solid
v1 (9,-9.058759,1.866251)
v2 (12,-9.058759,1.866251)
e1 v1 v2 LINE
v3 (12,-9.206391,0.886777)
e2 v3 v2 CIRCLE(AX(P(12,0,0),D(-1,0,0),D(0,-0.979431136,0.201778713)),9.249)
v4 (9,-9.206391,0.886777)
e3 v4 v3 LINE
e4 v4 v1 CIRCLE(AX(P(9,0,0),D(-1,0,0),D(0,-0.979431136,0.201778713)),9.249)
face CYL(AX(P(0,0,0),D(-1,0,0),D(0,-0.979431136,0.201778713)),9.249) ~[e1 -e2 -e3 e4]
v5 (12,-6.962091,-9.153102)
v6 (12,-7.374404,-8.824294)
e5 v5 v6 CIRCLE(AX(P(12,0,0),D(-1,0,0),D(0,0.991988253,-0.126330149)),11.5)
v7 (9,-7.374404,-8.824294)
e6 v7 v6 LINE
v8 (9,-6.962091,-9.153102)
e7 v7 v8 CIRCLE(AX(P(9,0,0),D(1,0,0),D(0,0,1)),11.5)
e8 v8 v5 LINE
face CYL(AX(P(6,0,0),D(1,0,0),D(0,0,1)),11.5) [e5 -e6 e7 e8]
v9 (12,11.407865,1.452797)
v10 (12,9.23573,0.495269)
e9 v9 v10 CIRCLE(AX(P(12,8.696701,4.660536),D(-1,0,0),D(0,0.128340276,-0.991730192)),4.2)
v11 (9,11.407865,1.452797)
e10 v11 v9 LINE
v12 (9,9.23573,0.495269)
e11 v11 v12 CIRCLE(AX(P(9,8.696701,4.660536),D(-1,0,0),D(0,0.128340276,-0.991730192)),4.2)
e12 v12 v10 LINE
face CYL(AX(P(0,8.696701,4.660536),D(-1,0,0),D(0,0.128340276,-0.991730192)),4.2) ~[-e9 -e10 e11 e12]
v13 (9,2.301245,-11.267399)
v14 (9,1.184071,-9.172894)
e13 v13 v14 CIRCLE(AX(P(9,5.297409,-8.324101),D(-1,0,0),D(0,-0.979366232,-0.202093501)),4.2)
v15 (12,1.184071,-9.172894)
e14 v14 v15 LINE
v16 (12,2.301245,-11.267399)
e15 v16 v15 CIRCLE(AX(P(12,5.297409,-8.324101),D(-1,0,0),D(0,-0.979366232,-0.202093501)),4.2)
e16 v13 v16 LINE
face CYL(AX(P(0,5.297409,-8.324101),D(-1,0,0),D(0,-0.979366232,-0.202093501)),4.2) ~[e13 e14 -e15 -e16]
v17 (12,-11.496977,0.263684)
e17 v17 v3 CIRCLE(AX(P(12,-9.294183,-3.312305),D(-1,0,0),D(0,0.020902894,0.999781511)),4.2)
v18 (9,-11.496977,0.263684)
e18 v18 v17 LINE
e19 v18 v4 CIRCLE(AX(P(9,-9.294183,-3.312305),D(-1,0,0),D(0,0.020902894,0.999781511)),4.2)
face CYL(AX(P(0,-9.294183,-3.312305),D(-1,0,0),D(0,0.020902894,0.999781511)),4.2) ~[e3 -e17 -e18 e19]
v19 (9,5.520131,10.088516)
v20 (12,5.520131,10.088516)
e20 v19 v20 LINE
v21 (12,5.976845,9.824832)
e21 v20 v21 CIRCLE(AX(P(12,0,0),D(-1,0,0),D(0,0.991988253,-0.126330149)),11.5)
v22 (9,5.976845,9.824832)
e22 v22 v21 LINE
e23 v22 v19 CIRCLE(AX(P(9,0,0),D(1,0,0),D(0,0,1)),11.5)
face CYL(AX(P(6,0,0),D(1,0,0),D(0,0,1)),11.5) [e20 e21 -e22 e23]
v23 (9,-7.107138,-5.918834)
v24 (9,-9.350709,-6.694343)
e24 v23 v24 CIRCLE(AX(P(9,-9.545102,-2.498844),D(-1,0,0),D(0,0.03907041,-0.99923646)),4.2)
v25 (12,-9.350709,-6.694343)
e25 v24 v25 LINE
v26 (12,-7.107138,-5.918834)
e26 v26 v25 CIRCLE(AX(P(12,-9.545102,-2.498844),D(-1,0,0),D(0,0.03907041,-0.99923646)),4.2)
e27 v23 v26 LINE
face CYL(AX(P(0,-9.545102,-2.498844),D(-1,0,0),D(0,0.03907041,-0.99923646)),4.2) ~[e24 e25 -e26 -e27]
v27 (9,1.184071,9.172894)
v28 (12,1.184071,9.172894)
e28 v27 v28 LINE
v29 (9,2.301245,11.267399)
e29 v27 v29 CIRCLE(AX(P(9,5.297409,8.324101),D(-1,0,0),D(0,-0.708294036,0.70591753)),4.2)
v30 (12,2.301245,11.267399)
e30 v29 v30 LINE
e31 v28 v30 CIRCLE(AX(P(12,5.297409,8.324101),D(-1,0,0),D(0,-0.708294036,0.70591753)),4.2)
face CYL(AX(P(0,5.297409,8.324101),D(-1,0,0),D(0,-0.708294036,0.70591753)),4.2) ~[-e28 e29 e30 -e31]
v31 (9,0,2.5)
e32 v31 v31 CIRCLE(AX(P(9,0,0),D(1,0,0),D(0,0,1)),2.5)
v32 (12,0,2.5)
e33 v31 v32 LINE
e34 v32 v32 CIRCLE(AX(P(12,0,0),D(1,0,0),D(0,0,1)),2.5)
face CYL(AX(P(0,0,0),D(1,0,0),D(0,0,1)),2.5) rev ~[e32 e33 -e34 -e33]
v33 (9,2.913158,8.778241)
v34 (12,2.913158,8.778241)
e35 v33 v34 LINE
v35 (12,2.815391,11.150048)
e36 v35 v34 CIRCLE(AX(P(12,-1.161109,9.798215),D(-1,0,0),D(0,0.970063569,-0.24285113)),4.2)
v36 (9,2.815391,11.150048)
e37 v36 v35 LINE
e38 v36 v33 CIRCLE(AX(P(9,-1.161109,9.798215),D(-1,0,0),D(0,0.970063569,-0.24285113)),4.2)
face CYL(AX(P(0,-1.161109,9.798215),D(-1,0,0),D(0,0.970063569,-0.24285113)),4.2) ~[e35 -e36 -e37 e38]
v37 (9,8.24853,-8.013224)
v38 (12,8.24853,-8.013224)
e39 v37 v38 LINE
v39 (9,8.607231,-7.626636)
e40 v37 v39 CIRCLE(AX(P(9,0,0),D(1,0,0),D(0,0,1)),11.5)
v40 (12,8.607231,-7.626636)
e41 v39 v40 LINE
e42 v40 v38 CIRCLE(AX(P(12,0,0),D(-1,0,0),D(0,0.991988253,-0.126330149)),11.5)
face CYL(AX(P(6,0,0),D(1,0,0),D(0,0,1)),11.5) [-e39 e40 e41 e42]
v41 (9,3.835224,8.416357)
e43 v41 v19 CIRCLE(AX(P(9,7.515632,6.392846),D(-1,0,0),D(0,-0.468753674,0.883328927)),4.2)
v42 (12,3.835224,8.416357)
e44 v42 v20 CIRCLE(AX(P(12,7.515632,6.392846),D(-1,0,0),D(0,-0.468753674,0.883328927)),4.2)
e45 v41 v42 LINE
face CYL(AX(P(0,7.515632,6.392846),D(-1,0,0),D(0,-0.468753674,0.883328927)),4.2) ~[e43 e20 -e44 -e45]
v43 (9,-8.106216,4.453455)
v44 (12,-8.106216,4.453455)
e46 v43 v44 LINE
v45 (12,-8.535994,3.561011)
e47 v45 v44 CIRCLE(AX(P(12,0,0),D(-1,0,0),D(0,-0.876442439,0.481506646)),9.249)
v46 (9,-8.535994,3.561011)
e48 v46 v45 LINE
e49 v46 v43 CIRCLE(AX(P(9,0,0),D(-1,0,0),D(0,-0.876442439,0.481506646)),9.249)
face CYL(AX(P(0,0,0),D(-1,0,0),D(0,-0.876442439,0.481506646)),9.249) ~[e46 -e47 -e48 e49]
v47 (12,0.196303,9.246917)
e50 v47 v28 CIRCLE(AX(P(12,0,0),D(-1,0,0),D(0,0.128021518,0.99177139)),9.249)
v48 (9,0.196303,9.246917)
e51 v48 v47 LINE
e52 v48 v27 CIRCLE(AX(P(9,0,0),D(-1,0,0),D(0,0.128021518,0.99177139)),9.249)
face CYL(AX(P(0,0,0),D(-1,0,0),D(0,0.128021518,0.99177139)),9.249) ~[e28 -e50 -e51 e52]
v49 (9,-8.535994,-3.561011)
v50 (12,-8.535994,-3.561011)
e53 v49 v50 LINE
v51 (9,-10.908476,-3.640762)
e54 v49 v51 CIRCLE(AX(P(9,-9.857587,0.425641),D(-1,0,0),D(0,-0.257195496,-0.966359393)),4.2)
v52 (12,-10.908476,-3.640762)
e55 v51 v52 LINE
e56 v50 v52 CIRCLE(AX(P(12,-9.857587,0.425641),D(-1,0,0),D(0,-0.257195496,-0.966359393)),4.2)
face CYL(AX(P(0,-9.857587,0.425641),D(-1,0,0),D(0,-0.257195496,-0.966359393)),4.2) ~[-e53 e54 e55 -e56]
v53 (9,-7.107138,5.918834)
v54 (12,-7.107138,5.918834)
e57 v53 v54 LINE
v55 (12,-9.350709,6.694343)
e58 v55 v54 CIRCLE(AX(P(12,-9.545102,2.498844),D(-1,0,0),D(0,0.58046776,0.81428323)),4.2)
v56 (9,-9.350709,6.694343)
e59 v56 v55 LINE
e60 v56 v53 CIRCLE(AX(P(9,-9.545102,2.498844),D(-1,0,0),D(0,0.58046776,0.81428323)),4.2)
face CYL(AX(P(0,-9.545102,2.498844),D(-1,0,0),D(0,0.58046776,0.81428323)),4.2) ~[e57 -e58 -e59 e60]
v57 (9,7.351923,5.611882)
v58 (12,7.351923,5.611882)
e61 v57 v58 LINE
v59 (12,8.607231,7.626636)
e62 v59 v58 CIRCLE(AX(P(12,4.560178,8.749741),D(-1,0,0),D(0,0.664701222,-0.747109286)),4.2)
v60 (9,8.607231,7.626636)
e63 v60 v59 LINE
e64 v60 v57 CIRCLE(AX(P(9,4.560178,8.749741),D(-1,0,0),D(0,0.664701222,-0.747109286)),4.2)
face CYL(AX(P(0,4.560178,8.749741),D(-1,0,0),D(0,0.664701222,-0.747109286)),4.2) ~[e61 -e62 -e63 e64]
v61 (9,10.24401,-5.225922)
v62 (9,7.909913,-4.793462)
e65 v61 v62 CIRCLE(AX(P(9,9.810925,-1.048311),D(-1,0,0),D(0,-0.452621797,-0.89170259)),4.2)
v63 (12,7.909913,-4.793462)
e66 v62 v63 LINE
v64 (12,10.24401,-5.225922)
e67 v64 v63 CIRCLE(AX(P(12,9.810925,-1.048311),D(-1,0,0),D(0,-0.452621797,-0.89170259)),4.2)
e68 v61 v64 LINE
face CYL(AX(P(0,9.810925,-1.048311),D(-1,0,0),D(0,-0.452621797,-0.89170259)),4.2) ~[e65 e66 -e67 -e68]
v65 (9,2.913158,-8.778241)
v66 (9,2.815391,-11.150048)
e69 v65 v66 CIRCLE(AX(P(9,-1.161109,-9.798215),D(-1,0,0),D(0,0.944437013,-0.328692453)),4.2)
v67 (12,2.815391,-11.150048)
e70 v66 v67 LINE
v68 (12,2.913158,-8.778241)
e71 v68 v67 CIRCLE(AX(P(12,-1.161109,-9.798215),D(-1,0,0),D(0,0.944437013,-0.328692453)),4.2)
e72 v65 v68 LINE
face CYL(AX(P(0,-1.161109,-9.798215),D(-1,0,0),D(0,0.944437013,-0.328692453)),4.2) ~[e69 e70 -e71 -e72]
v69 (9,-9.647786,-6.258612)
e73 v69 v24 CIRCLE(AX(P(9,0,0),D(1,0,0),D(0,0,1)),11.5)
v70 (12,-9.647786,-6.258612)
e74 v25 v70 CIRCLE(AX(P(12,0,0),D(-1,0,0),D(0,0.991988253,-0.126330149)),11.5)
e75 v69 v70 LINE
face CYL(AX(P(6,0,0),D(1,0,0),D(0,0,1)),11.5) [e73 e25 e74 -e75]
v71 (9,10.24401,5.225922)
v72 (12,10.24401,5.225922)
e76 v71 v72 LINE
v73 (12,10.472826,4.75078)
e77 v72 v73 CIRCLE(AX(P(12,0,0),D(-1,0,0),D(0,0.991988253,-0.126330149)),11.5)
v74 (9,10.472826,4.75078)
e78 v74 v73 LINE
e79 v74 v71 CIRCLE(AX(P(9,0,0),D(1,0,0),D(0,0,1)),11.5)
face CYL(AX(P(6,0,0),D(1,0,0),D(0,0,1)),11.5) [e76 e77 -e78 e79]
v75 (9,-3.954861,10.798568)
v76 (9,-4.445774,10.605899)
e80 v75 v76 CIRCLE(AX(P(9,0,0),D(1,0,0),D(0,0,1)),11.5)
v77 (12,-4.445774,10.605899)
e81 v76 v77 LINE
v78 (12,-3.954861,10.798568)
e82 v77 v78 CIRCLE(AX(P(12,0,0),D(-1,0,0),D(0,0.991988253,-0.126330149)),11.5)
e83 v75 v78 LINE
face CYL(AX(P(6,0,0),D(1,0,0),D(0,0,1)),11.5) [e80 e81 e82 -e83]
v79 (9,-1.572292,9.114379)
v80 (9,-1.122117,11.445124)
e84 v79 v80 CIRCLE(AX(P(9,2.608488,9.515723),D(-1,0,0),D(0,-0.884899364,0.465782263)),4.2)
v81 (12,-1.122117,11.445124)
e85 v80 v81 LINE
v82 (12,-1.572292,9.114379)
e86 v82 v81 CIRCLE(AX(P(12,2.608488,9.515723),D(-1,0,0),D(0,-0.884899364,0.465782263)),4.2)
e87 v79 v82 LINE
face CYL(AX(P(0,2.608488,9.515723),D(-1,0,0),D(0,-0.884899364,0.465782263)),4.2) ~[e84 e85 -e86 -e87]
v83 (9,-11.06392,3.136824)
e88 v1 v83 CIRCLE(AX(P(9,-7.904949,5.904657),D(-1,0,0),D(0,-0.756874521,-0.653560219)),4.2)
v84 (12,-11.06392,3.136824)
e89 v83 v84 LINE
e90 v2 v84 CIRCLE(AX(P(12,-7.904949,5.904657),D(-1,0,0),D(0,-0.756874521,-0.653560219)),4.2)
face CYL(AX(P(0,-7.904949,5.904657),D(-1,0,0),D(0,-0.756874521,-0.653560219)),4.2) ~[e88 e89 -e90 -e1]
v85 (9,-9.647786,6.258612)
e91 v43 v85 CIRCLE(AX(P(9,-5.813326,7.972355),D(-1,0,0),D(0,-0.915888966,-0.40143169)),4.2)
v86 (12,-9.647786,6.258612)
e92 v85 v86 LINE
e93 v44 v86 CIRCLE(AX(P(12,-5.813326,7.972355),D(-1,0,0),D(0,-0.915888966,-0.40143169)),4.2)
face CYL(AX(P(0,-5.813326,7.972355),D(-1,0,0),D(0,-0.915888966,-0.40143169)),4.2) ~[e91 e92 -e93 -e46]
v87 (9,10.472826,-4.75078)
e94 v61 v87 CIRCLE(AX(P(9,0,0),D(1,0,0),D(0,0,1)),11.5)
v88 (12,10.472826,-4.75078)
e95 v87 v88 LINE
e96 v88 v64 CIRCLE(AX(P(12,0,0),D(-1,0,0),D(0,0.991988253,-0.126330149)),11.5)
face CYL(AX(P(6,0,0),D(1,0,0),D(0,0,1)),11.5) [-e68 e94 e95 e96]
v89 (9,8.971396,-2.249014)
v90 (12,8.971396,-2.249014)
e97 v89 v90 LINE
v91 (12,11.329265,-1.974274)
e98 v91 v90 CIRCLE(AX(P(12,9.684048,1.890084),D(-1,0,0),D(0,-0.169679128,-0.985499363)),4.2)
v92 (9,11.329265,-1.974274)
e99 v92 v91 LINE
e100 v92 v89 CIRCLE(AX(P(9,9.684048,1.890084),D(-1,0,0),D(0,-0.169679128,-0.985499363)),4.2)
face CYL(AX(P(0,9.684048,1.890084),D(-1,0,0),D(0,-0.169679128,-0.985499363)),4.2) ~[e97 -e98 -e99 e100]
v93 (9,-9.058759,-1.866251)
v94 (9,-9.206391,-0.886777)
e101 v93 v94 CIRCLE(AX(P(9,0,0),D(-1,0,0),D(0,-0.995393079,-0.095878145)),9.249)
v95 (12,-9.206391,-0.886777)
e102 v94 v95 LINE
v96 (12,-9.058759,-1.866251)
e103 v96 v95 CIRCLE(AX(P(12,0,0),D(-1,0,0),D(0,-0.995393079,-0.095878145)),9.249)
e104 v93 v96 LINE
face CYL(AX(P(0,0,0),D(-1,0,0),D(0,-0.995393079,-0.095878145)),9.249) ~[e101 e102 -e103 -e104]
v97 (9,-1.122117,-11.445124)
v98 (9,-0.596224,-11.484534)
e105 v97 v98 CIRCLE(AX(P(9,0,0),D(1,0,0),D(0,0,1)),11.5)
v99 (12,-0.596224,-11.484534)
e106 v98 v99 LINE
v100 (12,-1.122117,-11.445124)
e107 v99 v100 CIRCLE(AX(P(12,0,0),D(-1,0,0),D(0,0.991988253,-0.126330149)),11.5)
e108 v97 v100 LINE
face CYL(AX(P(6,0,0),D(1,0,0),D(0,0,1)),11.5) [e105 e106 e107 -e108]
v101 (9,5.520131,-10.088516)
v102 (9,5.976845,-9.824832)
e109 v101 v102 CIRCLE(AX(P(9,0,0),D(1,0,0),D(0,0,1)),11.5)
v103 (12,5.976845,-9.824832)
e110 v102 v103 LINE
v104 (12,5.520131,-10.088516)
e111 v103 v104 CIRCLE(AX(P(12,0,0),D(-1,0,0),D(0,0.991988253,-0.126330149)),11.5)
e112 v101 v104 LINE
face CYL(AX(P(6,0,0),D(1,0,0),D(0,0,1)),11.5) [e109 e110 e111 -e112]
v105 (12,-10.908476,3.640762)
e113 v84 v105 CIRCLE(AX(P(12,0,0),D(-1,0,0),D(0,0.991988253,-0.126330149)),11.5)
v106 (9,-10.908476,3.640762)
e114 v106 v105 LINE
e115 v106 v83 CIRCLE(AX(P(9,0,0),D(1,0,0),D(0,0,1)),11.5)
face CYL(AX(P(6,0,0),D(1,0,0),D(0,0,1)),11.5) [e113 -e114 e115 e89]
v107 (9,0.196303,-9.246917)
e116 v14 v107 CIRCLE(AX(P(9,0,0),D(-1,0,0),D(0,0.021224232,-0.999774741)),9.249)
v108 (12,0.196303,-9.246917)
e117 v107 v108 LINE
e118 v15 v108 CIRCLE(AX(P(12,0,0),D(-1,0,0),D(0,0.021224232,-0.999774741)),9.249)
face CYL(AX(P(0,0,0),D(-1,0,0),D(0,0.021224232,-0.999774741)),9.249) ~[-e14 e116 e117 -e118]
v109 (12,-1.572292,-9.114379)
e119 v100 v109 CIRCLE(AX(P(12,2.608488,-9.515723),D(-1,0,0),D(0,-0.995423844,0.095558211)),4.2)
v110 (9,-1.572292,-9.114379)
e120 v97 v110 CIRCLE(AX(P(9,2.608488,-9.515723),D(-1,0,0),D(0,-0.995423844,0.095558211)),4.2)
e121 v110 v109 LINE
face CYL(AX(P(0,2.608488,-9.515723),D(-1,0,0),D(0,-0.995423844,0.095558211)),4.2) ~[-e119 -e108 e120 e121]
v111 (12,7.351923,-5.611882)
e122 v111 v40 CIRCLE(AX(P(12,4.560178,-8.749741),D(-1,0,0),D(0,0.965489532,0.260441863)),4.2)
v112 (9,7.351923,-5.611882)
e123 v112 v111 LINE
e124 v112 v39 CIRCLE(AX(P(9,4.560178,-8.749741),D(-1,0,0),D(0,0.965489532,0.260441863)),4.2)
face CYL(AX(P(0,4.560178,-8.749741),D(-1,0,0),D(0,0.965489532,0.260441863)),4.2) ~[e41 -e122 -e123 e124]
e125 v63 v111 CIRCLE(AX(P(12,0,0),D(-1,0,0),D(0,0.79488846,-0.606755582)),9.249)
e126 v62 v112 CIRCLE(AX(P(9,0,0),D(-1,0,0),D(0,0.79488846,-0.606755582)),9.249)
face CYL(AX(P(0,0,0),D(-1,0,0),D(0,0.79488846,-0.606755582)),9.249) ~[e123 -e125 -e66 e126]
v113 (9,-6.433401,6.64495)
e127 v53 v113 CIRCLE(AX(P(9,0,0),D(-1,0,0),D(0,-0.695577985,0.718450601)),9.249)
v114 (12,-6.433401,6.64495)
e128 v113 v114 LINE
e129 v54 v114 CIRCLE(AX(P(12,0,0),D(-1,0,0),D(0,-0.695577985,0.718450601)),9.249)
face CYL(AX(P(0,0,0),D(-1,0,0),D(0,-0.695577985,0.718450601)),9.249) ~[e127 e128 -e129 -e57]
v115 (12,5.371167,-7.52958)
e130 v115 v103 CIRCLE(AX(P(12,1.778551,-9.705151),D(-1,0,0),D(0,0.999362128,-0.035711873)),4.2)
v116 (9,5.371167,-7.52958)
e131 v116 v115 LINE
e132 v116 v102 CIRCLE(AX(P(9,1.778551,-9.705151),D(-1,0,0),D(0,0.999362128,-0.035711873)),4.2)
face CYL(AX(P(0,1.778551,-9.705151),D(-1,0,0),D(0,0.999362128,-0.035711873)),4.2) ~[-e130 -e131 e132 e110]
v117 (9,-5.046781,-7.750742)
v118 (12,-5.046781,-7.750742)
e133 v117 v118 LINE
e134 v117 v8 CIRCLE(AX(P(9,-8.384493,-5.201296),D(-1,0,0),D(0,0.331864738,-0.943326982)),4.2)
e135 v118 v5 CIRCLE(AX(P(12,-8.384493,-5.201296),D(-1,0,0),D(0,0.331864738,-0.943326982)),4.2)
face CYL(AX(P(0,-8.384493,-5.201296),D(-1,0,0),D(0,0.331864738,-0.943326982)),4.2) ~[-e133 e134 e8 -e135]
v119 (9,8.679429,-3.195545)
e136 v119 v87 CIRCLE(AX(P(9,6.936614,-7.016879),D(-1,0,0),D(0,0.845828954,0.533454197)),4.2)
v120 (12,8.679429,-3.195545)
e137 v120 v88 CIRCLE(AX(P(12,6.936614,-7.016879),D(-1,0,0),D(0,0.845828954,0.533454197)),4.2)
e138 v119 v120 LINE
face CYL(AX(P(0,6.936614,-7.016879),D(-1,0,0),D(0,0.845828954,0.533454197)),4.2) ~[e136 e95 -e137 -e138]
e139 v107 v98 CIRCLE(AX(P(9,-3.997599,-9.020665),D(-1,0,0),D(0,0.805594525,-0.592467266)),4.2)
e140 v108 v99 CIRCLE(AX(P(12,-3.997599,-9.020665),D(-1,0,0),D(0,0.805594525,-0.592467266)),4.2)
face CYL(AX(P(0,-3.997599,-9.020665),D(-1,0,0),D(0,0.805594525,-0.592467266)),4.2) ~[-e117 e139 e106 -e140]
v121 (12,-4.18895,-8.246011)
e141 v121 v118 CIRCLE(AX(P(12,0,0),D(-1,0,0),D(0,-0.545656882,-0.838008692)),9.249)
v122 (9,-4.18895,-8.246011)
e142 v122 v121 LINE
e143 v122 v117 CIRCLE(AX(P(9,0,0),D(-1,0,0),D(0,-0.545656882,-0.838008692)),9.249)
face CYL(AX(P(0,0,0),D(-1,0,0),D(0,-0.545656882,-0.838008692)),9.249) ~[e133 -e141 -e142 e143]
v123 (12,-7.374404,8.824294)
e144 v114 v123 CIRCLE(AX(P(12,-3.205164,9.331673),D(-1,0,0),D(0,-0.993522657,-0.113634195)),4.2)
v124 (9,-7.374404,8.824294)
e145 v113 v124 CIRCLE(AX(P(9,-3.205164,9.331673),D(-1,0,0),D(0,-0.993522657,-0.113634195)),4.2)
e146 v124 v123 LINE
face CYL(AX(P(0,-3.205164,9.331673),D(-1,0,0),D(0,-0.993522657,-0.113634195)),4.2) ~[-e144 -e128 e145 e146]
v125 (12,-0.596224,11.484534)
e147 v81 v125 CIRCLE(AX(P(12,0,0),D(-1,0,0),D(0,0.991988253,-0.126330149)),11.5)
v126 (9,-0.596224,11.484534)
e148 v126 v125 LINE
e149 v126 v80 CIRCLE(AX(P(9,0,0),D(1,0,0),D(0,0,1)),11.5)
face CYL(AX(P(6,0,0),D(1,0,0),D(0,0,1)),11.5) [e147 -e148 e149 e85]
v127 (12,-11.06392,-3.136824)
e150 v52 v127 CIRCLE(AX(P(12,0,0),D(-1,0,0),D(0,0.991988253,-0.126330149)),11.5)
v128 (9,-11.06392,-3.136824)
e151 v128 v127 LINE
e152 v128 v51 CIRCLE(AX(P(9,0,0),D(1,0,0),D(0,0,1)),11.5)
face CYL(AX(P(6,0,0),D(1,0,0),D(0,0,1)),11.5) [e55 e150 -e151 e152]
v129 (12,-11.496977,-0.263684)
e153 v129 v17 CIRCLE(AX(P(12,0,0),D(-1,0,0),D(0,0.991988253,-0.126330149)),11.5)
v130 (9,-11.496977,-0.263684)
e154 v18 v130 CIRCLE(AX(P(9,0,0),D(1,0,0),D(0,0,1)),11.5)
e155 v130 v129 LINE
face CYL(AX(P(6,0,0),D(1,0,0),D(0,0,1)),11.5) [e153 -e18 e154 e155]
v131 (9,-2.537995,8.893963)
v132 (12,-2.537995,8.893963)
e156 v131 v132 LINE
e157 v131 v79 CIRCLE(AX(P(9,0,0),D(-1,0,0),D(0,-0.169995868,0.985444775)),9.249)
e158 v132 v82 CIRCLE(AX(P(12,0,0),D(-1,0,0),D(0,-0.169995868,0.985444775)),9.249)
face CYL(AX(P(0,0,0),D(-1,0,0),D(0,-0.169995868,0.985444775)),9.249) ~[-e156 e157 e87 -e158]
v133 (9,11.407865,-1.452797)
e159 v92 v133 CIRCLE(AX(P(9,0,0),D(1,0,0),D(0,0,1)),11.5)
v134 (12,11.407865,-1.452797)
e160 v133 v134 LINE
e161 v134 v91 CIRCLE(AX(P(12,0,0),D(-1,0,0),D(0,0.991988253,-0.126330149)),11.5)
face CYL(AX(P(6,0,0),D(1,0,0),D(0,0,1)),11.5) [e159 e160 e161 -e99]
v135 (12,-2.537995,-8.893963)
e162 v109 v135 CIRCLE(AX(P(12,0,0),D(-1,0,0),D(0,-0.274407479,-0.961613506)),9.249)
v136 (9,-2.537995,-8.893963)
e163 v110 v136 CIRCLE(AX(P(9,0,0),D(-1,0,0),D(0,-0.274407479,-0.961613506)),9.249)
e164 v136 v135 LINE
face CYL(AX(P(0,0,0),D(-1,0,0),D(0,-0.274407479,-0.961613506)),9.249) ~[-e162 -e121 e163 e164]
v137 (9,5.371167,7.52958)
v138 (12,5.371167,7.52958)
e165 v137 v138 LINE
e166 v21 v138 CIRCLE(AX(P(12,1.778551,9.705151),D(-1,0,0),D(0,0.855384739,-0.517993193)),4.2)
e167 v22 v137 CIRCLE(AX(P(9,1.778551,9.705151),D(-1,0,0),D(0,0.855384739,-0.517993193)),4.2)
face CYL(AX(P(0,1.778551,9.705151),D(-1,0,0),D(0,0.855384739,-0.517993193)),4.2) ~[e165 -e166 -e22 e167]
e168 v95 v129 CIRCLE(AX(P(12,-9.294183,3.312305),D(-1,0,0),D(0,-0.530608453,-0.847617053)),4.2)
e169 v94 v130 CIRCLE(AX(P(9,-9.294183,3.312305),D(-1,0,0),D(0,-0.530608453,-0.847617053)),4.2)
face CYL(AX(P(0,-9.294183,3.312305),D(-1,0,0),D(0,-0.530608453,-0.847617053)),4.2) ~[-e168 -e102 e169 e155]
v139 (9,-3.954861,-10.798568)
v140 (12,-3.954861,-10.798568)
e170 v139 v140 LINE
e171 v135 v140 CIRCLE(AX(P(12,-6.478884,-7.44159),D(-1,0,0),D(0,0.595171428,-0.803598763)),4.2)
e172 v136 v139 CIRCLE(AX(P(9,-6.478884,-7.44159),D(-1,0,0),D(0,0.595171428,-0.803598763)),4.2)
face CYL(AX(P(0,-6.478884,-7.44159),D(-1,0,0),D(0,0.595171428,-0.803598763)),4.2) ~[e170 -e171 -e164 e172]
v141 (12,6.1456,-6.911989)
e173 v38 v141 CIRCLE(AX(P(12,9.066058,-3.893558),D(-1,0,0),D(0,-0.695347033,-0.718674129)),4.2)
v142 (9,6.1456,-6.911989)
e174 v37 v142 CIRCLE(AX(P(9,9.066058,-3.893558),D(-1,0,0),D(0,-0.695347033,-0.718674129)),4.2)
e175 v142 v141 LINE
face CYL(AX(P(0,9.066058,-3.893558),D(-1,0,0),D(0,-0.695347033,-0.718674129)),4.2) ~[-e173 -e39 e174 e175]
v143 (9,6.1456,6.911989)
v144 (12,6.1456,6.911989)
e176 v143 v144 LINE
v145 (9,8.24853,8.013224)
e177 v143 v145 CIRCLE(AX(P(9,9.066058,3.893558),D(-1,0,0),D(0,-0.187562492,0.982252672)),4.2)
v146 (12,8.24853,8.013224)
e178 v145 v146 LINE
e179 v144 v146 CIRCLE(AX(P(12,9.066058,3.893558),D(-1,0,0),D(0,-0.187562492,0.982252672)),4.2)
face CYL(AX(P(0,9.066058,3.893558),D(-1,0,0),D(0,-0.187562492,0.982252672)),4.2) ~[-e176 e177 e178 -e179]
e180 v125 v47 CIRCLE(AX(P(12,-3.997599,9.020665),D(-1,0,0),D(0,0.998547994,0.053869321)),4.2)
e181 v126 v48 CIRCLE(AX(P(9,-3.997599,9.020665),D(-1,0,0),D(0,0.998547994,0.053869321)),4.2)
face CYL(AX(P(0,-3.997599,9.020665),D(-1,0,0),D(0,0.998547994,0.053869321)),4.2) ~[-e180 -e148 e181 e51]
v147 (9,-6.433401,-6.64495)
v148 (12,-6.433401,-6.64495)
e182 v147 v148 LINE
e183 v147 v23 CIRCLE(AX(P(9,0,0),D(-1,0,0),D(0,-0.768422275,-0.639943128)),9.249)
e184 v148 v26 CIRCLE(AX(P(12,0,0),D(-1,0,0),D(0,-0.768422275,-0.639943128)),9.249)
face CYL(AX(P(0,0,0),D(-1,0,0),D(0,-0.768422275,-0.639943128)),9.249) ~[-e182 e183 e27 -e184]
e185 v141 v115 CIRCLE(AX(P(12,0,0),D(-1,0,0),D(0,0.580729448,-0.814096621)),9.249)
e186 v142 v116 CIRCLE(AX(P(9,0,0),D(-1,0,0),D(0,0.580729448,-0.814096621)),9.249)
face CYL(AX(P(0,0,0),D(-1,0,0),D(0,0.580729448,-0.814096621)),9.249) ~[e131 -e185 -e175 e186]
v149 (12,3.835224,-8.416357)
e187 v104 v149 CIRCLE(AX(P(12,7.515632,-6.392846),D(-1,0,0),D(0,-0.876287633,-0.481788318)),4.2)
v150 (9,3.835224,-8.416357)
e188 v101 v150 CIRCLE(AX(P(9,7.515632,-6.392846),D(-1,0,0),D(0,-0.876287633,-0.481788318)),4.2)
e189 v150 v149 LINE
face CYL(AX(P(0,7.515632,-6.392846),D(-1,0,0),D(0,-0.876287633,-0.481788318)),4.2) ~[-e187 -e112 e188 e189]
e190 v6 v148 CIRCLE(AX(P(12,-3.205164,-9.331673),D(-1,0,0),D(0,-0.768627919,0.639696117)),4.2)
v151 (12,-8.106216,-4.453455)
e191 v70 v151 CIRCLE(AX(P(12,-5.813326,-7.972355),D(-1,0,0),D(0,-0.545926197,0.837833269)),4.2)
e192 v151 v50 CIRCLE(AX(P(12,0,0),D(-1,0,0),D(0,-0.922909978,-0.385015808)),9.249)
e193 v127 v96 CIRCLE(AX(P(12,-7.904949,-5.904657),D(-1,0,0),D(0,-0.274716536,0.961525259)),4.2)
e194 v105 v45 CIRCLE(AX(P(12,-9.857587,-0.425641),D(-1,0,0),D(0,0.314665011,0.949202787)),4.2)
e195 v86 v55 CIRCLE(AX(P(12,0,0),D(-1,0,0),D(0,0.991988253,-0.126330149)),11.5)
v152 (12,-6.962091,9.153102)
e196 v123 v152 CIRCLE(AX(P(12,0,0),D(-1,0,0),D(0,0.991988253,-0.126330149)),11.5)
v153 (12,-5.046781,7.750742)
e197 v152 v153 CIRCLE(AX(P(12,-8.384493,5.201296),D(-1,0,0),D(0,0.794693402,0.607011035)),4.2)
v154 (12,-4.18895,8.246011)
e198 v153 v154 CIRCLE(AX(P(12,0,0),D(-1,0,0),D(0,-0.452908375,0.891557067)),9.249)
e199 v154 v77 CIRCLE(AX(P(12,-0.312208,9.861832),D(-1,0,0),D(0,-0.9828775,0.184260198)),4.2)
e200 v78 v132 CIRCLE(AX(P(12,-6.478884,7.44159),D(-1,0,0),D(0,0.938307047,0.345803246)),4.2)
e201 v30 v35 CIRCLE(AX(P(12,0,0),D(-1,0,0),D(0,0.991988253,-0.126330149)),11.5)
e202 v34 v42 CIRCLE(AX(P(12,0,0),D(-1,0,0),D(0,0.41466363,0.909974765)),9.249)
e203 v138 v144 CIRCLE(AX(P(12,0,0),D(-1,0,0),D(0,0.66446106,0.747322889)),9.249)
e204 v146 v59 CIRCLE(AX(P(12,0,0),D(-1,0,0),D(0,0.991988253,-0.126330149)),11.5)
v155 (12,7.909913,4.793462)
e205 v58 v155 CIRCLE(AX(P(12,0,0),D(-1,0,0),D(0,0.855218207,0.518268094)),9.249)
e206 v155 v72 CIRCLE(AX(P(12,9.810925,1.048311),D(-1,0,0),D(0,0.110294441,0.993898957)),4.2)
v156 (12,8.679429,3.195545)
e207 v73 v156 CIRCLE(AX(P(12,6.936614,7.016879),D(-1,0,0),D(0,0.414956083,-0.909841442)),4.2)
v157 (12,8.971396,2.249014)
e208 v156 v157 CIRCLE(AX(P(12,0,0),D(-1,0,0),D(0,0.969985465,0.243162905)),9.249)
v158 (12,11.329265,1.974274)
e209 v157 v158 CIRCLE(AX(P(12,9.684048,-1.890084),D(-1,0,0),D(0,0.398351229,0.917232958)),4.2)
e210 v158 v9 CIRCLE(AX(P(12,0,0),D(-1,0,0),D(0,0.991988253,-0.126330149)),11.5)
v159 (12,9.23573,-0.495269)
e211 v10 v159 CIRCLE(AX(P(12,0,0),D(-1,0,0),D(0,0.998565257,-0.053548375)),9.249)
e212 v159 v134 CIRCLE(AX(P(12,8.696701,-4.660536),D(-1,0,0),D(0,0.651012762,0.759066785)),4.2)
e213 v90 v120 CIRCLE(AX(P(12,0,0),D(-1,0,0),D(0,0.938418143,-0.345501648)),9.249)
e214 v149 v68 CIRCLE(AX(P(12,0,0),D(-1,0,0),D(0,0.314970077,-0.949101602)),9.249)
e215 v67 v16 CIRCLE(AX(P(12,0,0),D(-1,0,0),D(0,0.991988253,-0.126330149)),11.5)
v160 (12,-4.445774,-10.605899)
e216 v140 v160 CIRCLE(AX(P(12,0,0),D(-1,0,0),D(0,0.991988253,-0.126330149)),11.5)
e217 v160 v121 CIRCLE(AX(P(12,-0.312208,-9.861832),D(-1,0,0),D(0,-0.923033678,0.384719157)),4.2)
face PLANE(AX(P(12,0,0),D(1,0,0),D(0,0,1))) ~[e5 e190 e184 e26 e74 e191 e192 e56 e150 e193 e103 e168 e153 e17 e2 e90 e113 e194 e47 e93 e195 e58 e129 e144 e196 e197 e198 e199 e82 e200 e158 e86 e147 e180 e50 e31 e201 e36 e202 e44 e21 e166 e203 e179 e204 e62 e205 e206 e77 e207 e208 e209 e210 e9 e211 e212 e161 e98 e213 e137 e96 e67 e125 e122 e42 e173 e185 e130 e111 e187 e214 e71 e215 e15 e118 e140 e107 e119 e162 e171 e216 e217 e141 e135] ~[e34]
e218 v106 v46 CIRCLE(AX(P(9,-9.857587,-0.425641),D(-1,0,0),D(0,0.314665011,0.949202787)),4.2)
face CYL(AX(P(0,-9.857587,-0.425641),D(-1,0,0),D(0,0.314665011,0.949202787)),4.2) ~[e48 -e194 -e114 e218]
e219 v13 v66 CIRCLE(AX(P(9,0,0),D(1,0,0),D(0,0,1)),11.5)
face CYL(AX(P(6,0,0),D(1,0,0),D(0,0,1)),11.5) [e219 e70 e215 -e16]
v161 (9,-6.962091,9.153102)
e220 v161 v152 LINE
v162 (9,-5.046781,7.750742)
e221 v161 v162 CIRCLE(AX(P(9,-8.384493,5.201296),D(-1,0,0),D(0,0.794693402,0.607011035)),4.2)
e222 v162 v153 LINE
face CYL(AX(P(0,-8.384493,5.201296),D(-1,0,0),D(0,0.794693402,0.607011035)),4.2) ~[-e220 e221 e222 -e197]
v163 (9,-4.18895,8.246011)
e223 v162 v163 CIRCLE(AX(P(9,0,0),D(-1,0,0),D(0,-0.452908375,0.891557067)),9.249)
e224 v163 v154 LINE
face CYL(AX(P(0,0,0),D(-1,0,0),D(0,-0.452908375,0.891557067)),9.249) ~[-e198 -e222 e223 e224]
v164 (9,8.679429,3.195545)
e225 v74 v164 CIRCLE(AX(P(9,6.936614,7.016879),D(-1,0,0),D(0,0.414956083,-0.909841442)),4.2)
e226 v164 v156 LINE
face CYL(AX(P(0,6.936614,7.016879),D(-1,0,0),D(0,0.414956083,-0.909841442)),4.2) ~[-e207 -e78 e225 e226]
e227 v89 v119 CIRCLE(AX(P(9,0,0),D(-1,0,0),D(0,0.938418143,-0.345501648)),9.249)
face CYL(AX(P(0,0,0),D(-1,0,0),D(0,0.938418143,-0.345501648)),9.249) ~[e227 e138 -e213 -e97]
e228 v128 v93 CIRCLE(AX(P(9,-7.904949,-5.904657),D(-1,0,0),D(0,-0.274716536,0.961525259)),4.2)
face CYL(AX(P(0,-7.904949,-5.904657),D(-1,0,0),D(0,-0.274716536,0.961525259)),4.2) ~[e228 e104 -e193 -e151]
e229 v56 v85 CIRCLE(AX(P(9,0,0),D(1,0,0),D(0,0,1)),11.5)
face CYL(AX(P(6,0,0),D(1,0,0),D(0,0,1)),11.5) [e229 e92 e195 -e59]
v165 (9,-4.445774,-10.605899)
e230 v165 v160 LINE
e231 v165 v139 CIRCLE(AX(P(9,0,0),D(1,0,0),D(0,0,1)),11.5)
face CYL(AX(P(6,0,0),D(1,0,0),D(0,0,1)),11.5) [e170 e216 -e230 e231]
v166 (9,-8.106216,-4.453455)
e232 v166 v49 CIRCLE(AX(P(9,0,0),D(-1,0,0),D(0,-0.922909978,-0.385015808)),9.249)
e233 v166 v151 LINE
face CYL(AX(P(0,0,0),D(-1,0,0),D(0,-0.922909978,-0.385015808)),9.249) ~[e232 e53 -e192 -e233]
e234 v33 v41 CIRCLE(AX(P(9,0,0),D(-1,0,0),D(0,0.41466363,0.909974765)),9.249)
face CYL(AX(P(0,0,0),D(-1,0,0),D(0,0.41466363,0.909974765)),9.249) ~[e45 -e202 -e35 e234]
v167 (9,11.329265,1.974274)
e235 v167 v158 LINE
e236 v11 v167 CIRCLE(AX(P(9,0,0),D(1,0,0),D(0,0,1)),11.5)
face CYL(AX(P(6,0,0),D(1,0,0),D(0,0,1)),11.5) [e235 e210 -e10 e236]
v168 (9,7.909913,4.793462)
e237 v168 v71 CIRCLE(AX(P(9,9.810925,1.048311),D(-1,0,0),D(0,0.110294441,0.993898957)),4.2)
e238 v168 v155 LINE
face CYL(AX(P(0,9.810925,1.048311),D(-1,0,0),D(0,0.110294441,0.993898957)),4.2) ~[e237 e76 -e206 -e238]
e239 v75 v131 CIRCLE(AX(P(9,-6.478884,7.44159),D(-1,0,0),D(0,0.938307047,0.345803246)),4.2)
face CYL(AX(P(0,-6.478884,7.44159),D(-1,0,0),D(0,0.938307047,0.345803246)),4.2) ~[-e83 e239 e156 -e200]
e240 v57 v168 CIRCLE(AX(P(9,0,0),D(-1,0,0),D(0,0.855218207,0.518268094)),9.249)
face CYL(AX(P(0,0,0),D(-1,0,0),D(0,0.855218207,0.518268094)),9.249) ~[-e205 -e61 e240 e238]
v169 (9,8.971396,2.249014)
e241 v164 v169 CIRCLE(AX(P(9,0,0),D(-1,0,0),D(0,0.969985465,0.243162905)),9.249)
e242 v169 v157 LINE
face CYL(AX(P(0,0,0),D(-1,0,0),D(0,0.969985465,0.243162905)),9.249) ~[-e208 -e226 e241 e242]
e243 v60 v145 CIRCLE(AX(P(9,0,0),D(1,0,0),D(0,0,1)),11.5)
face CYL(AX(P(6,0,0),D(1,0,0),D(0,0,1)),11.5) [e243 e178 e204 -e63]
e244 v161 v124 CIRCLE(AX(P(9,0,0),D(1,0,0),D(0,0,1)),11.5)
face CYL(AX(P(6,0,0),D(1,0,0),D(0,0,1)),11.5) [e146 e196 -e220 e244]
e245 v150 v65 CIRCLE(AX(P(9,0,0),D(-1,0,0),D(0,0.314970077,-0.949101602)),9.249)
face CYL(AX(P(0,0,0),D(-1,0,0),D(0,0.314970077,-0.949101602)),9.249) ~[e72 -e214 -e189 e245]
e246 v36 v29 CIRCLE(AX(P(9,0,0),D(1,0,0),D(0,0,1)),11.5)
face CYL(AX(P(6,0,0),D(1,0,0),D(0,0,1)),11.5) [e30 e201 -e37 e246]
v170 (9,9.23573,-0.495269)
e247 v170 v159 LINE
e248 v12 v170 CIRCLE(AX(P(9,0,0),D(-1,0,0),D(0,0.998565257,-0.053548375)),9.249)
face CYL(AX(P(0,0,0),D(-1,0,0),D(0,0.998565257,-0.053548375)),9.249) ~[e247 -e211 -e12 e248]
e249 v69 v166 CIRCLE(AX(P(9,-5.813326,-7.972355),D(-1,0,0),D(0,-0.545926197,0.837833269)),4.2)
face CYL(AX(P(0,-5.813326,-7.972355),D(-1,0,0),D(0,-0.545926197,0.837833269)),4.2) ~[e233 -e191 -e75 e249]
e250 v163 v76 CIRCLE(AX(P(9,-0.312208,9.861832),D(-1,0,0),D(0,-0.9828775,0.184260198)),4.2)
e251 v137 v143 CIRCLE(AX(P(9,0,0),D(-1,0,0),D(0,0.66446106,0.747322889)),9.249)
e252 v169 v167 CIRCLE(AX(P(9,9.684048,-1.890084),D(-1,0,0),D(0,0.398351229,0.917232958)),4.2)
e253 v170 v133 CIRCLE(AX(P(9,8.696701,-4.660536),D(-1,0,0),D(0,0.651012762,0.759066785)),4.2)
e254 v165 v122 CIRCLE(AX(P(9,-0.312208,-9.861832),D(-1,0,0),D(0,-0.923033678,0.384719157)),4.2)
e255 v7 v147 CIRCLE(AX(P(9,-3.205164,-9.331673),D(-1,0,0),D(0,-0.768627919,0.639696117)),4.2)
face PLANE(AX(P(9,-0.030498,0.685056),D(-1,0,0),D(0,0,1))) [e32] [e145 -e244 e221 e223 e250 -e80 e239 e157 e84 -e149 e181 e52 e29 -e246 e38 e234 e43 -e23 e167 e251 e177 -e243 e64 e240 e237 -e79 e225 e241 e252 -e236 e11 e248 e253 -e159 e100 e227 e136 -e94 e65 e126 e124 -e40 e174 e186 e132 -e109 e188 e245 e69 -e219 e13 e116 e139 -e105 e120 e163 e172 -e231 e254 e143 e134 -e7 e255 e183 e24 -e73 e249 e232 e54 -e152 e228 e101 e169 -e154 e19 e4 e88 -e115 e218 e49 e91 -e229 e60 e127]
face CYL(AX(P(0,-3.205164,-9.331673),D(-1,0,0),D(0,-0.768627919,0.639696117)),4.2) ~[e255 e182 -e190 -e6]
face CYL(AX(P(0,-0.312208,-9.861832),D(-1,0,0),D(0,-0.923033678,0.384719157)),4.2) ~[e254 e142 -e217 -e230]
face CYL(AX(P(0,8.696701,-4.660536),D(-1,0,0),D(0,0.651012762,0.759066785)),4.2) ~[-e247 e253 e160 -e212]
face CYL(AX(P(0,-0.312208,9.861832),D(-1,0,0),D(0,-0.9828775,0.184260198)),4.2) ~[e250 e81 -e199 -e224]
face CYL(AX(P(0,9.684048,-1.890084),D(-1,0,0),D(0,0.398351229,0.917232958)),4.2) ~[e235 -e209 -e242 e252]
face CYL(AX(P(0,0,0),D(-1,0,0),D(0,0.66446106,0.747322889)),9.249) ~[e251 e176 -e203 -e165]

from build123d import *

# Parameters (mm, degrees)
BASPROSKE_W           = 12
BASPROSKE_H           = 11.5
TOOTHCUT_DEPTH        = 21.211382931
TEETHCUTS_COUNT       = 21
TEETHCUTS_ANGLE       = 342.857142857
BORSKE_R              = 2.5
BORE_DEPTH            = 50.0000508
CROQUIS1_W            = 26.748323755
CROQUIS1_H            = 25.378211712
CORTAR_EXTRUIR1_DEPTH = 9


with BuildPart() as part:
    # BasProSke → Base-Revolve (revolve)
    with BuildSketch(Plane(origin=(0, 0, 0), x_dir=(1, 0, 0), z_dir=(0, 1, 0)), mode=Mode.PRIVATE) as base_revolve_sk:
        with Locations((6, 5.75)):
            Rectangle(BASPROSKE_W, BASPROSKE_H)
    revolve(base_revolve_sk.sketch.rotate(Axis((-10, 0, 0), (1, 0, 0)), 180), axis=Axis((-10, 0, 0), (1, 0, 0)))

    # TooCutSke → ToothCut (cut, through all)
    with BuildSketch(Plane(origin=(0, 0, 0), x_dir=(0, 0, -1), z_dir=(1, 0, 0))):
        with BuildLine():
            ThreePointArc((0.49526894, 9.235730057), (0, 9.249), (-0.49526894, 9.235730057))
            ThreePointArc((-0.49526894, 9.235730057), (-0.823521057, 10.404716786), (-1.472455249, 11.430954496))
            ThreePointArc((-1.472455249, 11.430954496), (0, 11.5254), (1.472455249, 11.430954496))
            ThreePointArc((1.472455249, 11.430954496), (0.823521057, 10.404716786), (0.49526894, 9.235730057))
        make_face()
    toothcut = extrude(amount=TOOTHCUT_DEPTH, mode=Mode.SUBTRACT)

    # TeethCuts: ToothCut ×21 about axis
    teethcuts_axis = Axis((-10, 0, 0), (1, 0, 0))
    for i in range(1, TEETHCUTS_COUNT):
        add(toothcut.rotate(teethcuts_axis, i * TEETHCUTS_ANGLE / (TEETHCUTS_COUNT - 1)), mode=Mode.SUBTRACT)

    # BorSke → Bore (cut, symmetric)
    with BuildSketch(Plane(origin=(0, 0, 0), x_dir=(0, 0, -1), z_dir=(1, 0, 0))):
        with Locations(Location((0, 0, 0), (0, 0, 180))):
            Circle(BORSKE_R)
    extrude(amount=BORE_DEPTH, both=True, mode=Mode.SUBTRACT)

    # Croquis1 → Cortar-Extruir1 (cut)
    with BuildSketch(Plane.ZY):
        with Locations((0.685056021, -0.030498092)):
            Rectangle(CROQUIS1_W, CROQUIS1_H)
    extrude(amount=-CORTAR_EXTRUIR1_DEPTH, mode=Mode.SUBTRACT)


solid = part.part
